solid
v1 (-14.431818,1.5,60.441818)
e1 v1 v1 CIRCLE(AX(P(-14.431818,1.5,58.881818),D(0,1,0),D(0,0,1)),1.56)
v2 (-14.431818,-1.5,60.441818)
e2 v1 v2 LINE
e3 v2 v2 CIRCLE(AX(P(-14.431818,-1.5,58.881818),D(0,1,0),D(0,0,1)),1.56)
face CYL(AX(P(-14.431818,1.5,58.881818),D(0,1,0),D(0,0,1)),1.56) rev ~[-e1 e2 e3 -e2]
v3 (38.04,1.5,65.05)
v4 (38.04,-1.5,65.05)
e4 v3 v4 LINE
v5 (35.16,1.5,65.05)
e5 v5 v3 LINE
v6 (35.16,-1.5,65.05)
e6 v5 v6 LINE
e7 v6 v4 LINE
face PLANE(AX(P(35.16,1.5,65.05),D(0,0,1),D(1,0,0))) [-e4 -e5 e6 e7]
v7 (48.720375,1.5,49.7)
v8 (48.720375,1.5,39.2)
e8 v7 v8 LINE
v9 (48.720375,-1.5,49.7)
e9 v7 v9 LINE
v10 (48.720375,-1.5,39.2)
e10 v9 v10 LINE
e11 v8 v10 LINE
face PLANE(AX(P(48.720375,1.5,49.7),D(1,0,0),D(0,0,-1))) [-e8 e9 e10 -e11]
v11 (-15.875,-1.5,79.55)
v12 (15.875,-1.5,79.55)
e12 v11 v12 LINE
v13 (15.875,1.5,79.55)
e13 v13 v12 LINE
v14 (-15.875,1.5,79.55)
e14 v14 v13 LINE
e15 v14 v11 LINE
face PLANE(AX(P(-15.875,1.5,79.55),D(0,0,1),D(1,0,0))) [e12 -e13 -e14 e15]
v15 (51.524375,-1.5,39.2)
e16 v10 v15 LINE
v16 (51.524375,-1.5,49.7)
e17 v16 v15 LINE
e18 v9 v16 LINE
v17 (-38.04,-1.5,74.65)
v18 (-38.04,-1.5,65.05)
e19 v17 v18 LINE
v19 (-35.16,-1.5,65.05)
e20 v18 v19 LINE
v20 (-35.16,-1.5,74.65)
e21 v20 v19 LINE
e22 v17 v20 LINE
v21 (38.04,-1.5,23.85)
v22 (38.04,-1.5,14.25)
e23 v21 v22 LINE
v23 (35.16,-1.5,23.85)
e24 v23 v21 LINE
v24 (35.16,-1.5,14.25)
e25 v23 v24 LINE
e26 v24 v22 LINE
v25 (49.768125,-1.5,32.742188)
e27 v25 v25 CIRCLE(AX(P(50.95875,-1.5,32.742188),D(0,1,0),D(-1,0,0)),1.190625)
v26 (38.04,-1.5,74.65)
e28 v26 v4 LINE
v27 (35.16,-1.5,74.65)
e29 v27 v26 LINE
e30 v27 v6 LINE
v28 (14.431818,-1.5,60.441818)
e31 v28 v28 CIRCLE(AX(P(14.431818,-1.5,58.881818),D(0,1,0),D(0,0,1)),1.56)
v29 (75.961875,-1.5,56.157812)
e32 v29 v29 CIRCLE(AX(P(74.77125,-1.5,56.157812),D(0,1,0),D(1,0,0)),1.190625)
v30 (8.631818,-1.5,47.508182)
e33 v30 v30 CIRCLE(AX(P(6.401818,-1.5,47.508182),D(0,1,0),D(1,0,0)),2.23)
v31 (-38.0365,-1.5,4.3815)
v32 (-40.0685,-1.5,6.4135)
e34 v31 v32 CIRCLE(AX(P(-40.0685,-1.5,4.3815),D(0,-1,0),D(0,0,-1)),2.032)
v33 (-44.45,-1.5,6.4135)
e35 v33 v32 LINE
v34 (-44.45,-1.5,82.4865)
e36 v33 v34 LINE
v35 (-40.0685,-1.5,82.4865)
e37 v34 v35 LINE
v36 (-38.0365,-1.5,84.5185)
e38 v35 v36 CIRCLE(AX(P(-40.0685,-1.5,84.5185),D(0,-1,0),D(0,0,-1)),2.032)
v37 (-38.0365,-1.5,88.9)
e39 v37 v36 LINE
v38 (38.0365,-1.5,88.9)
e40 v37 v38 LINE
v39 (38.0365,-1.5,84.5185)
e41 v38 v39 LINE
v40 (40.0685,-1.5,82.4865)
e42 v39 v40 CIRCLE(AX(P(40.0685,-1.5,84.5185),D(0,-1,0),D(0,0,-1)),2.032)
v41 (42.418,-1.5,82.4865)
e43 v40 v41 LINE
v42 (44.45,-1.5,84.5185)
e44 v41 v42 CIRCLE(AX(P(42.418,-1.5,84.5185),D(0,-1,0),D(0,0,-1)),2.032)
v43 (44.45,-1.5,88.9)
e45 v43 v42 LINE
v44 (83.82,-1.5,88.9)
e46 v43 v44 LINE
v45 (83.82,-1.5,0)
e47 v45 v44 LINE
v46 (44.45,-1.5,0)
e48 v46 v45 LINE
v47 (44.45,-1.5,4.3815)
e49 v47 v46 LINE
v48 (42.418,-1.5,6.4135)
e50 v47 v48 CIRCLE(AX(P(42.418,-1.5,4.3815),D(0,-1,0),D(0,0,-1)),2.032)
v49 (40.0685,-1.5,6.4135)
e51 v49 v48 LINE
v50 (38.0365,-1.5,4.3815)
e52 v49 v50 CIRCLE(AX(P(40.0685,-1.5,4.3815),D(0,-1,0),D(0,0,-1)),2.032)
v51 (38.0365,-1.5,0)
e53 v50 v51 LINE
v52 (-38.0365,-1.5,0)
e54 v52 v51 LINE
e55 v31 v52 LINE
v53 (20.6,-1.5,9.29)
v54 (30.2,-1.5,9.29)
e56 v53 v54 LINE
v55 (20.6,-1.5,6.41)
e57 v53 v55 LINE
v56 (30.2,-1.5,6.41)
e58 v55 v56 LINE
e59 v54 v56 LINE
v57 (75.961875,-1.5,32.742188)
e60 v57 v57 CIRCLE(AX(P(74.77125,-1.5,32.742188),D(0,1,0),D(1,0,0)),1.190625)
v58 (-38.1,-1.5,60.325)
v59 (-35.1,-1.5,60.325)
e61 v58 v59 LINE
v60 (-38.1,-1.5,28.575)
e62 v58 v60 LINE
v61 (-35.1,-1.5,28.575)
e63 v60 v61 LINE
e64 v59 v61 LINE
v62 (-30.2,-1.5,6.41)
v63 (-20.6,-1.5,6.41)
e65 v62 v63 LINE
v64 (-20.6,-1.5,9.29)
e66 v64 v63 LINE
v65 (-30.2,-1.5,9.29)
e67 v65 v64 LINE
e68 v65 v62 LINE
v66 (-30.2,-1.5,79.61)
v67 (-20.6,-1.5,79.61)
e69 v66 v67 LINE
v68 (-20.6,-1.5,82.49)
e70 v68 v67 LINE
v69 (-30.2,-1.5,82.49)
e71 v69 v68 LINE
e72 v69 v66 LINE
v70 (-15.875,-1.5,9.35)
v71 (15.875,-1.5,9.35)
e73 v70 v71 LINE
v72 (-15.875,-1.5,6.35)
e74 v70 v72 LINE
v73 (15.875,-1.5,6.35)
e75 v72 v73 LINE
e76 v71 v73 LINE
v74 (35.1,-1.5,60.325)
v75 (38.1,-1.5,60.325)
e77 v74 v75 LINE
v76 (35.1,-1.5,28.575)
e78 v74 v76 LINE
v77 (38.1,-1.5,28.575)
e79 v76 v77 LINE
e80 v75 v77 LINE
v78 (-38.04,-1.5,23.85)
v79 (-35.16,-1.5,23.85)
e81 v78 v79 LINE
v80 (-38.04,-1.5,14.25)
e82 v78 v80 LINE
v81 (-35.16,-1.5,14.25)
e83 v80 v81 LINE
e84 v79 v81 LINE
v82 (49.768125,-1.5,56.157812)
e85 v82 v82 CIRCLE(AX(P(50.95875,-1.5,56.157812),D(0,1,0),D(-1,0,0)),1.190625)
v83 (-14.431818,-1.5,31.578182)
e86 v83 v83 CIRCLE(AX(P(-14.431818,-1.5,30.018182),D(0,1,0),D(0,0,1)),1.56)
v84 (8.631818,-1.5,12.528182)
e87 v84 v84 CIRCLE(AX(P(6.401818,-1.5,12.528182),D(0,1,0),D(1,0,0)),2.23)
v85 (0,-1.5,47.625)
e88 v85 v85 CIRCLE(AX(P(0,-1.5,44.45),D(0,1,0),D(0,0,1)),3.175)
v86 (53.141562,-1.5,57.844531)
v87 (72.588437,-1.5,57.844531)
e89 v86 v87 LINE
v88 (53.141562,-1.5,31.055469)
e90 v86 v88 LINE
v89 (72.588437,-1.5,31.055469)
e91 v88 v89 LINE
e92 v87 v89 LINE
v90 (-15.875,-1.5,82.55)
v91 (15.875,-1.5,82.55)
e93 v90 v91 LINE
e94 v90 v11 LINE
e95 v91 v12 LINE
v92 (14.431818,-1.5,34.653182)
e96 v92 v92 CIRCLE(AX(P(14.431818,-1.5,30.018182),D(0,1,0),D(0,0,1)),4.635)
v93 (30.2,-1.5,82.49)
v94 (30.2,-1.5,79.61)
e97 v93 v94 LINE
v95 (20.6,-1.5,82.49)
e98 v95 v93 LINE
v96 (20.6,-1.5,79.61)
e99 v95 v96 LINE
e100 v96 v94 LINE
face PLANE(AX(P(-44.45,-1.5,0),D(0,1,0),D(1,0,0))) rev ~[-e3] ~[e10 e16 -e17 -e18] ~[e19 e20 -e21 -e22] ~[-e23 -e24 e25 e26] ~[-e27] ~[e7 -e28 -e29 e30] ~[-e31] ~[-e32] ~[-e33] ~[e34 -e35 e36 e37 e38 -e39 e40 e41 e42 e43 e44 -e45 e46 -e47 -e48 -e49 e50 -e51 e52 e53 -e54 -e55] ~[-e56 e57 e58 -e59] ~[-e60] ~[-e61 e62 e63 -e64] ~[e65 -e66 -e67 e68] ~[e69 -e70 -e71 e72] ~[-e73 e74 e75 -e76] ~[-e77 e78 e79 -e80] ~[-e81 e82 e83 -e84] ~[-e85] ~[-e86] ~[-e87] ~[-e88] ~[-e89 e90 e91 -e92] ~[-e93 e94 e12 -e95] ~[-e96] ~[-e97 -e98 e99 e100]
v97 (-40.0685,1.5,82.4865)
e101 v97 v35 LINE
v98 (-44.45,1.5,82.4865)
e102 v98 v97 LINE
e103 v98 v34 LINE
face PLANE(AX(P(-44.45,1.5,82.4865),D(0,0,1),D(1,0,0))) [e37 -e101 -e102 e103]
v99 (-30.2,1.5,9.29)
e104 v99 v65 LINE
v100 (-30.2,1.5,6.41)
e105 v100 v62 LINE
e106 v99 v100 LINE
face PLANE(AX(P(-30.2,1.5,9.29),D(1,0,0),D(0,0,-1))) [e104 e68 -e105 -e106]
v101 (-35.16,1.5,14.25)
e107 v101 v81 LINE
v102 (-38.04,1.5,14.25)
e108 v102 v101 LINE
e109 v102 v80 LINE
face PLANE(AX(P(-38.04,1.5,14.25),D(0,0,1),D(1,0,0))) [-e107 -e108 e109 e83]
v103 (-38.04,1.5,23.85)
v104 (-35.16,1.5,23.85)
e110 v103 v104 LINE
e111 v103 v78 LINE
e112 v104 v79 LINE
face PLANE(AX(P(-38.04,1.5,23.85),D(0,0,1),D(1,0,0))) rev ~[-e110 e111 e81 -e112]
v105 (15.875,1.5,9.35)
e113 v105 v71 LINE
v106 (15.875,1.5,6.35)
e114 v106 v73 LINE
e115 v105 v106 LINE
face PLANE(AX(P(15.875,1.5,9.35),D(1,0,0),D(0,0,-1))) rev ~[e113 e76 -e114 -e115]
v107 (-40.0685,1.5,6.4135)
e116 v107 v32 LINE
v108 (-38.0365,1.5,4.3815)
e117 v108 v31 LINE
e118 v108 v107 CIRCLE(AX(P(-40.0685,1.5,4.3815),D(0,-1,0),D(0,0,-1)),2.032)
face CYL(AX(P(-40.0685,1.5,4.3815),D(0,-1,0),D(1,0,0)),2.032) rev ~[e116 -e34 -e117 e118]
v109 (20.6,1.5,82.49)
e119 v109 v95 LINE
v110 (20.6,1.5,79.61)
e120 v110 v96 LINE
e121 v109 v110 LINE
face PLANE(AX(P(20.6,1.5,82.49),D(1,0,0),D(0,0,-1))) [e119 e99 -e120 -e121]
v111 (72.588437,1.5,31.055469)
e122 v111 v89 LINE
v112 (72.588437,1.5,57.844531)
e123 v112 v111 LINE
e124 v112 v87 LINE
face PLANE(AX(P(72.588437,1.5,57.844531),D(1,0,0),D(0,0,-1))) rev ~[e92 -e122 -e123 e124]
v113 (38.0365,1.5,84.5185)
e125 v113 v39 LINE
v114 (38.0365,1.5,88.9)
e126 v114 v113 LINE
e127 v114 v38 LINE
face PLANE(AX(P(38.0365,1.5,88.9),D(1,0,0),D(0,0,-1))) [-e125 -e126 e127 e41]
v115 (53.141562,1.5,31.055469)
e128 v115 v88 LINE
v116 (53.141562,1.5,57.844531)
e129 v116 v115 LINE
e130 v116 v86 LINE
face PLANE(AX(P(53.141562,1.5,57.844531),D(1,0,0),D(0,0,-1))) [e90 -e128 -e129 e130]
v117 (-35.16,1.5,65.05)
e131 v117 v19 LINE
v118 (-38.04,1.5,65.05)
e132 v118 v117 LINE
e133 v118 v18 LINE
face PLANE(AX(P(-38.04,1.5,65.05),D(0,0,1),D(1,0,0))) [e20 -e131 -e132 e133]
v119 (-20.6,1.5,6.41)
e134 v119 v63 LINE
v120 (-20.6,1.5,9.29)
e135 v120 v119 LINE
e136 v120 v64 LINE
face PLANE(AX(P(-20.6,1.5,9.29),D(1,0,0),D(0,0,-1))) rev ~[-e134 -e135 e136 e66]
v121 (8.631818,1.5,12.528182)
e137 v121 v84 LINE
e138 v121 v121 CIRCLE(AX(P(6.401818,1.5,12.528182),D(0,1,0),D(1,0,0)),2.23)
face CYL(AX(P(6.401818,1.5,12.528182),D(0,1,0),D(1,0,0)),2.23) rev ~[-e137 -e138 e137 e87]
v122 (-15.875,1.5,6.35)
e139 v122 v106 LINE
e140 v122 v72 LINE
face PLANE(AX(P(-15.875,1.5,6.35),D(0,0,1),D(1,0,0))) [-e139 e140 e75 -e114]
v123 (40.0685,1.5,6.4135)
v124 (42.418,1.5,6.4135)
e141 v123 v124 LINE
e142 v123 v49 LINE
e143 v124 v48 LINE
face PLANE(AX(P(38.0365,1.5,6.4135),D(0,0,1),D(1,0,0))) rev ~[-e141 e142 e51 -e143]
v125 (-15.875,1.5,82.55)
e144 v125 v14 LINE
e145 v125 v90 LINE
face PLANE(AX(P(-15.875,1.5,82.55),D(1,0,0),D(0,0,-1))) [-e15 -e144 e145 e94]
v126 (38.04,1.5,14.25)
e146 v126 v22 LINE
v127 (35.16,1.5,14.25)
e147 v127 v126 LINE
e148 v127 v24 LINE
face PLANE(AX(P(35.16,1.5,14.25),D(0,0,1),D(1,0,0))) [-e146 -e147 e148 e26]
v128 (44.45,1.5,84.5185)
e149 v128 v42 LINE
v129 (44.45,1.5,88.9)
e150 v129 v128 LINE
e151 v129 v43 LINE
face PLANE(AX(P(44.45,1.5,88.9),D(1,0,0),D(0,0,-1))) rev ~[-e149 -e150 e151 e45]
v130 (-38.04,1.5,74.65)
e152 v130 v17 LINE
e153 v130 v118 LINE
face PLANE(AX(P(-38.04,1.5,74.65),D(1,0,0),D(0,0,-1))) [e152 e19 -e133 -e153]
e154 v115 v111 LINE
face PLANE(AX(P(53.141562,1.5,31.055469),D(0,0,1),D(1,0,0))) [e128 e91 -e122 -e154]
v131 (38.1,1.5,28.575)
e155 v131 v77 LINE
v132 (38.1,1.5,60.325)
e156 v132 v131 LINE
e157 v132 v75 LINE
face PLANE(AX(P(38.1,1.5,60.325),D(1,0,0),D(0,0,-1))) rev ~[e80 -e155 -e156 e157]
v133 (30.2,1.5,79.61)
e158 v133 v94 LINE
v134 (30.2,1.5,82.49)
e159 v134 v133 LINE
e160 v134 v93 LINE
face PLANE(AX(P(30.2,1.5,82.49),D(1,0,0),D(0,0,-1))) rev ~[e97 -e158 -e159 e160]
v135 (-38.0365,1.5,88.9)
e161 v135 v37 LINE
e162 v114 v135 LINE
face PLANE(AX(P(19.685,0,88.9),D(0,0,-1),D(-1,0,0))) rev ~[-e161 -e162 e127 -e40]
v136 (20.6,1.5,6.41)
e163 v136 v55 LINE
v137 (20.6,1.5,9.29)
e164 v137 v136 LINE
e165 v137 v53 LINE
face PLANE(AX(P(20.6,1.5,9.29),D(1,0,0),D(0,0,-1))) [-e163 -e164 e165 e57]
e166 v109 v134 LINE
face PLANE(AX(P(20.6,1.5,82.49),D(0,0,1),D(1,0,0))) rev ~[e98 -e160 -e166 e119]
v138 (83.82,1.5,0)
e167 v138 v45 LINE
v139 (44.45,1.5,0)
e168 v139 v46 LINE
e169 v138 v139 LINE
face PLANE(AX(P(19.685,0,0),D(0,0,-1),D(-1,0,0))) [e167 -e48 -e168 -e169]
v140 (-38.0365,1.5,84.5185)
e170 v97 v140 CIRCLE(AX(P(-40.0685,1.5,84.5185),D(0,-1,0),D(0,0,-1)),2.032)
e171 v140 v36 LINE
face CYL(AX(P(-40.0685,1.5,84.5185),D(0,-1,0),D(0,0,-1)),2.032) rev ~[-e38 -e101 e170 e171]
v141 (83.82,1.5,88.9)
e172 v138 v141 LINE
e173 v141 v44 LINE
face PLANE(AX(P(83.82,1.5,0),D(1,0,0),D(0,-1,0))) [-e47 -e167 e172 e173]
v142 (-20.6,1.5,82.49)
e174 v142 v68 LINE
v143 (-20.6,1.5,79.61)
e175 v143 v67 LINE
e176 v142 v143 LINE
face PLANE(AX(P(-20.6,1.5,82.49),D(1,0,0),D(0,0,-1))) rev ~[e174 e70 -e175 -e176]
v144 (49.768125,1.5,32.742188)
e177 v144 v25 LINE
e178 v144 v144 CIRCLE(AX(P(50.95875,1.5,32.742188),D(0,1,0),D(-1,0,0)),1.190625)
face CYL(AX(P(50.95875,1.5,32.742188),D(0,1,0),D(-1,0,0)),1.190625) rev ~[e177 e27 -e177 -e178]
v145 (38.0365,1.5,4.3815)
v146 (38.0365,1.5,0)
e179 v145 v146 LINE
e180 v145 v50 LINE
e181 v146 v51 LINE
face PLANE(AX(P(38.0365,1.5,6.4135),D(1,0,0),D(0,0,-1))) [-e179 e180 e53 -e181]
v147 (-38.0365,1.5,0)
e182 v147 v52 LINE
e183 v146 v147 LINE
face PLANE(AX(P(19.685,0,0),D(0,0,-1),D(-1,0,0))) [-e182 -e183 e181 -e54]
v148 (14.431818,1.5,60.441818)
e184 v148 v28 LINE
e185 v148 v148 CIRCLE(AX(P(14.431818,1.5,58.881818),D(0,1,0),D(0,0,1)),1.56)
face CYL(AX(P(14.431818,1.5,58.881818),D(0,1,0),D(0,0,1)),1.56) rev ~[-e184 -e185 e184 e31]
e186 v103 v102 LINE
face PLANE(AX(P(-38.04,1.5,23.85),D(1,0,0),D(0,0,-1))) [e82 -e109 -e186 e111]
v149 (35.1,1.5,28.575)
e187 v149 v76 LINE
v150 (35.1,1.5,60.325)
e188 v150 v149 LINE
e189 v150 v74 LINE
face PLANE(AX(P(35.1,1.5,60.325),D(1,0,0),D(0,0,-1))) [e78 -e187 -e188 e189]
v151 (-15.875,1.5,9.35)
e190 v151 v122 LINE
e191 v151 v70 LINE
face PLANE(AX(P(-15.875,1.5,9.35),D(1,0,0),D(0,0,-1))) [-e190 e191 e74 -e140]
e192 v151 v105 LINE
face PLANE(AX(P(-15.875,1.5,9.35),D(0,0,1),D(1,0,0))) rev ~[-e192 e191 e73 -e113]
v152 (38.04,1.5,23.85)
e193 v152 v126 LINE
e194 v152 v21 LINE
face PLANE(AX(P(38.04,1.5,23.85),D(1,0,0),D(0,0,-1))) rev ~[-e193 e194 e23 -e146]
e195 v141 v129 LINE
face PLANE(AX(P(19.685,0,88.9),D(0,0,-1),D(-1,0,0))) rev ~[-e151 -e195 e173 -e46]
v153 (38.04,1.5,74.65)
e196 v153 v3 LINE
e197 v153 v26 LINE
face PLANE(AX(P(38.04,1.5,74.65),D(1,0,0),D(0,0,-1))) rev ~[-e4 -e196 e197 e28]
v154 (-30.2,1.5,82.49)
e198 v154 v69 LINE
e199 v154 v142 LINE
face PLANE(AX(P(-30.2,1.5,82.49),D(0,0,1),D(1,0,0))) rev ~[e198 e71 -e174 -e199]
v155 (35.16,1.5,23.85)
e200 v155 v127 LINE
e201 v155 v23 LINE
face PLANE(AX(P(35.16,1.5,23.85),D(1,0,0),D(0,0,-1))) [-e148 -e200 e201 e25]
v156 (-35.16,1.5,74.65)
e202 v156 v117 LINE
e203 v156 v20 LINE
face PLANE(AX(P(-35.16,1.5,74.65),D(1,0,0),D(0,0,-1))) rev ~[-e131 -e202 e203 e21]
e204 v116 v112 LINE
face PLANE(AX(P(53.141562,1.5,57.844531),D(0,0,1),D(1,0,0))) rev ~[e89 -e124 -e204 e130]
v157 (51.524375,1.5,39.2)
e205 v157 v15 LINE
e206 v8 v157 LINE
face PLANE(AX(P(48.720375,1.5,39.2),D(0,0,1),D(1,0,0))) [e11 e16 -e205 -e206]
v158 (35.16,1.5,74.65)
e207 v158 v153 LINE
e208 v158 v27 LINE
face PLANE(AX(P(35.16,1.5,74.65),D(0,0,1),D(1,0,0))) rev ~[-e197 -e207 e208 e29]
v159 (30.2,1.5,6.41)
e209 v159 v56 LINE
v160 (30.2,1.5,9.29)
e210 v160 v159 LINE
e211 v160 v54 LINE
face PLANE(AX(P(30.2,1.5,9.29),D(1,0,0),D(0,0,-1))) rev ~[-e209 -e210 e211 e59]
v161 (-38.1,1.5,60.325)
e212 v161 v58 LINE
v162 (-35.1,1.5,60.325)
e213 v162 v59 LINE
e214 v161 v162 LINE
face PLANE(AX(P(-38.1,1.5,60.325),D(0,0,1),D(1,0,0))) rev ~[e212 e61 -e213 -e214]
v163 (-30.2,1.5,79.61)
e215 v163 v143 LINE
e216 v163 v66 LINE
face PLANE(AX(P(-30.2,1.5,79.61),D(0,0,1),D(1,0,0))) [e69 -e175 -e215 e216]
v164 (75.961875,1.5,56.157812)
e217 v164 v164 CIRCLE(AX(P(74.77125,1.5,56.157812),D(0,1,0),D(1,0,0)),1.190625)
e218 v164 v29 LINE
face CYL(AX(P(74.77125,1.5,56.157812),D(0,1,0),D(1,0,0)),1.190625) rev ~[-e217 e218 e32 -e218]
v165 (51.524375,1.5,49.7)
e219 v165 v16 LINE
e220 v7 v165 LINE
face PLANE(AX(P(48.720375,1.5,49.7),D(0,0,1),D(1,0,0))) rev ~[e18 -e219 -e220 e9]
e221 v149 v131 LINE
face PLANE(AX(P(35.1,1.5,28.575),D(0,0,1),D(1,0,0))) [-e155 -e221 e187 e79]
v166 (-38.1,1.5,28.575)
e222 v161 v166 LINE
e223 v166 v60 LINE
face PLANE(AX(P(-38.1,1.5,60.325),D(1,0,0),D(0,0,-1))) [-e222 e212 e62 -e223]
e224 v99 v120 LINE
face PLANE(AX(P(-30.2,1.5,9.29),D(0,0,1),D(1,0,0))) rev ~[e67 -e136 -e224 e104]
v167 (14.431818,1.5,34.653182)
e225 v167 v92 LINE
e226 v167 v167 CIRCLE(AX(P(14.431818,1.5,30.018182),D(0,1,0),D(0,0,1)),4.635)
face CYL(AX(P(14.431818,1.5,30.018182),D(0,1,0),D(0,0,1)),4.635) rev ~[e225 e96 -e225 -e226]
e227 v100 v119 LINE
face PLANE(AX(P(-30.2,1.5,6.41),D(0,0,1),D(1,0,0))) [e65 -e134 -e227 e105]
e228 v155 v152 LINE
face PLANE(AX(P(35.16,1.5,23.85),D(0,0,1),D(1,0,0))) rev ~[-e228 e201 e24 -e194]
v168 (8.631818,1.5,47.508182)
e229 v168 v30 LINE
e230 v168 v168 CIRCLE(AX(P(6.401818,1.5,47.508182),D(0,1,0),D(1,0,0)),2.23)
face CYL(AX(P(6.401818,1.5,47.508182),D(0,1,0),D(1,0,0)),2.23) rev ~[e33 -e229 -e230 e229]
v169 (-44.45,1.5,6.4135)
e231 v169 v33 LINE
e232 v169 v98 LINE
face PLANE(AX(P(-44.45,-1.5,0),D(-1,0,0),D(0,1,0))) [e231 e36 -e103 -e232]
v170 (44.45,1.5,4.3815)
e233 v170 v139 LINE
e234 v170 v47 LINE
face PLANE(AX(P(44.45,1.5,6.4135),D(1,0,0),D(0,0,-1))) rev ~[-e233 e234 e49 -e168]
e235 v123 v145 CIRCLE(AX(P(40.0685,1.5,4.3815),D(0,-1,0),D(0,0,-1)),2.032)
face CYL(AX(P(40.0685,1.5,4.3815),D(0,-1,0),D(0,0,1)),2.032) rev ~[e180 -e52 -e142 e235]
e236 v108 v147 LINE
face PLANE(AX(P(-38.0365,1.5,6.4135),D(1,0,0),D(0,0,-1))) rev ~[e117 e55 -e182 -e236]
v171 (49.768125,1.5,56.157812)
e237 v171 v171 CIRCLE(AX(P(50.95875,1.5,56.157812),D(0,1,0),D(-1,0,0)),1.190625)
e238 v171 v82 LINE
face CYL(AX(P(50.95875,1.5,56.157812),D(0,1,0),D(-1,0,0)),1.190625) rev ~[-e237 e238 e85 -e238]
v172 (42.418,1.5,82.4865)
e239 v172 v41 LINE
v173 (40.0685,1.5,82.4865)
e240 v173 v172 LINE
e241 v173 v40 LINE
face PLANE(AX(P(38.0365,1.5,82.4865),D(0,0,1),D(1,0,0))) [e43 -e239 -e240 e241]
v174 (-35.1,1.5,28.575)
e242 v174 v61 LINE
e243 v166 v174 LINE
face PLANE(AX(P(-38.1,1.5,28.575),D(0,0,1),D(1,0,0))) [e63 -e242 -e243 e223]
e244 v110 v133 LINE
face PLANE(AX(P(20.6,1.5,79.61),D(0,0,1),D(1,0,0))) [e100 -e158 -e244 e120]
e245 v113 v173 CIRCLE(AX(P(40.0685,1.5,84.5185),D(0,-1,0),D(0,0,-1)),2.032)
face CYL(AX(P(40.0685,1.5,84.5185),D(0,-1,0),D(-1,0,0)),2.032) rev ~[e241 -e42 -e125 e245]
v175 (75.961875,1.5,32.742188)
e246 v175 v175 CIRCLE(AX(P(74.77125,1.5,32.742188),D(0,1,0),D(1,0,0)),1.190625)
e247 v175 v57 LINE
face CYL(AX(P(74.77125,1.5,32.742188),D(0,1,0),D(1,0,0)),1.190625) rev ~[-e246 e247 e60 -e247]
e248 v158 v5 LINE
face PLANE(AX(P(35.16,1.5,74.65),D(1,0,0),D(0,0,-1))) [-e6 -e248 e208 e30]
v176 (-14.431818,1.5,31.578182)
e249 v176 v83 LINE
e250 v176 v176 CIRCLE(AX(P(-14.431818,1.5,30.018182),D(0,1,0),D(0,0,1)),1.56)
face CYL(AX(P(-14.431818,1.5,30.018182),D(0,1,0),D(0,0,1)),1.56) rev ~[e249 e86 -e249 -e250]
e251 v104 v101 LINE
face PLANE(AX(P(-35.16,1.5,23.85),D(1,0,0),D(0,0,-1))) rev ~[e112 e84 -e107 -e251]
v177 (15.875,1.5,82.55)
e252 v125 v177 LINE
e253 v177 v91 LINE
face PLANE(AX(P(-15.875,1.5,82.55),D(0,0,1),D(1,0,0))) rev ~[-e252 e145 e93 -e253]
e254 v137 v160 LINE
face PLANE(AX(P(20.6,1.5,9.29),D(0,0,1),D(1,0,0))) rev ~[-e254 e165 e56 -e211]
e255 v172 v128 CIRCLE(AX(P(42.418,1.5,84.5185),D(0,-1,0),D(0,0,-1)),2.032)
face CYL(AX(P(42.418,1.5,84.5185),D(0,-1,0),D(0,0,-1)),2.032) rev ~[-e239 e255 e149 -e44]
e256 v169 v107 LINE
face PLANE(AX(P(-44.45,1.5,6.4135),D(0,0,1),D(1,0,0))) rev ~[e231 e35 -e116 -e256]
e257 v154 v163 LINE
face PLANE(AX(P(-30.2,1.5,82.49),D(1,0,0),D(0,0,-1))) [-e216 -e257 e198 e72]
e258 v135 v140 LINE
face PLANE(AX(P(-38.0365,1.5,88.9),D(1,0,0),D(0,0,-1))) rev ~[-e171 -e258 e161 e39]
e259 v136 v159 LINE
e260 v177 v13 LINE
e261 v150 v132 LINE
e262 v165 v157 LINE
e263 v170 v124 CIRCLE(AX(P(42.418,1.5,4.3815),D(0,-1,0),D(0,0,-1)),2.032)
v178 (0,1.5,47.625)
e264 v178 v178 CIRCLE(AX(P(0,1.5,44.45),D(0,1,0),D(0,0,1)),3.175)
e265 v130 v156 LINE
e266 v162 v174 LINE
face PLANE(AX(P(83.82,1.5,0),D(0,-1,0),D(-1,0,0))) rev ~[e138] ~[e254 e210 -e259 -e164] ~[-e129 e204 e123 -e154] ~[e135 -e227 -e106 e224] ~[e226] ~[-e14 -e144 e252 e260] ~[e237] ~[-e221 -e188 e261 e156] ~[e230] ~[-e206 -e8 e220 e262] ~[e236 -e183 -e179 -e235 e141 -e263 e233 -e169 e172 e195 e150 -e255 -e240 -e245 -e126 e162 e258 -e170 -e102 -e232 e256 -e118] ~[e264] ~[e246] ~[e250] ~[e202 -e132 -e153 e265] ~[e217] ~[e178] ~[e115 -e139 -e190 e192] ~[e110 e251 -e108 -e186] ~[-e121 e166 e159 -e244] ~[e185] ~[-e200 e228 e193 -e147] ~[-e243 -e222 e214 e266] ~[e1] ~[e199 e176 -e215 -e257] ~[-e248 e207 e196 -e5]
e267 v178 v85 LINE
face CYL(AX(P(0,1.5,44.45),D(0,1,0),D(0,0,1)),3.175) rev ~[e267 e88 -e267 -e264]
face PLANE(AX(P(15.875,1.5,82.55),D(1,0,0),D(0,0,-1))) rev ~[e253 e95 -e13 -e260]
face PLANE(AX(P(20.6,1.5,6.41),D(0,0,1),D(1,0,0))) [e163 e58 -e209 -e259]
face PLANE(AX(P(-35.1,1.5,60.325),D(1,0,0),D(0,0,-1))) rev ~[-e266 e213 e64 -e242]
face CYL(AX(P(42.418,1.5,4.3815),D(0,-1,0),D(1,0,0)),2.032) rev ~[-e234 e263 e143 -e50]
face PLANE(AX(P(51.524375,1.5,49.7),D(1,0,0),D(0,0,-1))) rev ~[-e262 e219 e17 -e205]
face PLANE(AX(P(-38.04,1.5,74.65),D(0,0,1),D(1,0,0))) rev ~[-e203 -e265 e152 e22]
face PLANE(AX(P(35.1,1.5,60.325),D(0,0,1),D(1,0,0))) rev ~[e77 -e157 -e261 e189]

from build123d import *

# Parameters (mm, degrees)
EXTRUDE_1_DEPTH     = 88.9
SKETCH_4_R          = 1.5
SKETCH_4_W          = 31.75
SKETCH_4_H          = 3
SKETCH_4_W_2        = 3
SKETCH_4_H_2        = 31.75
CUT_EXTRUDE_1_DEPTH = 3
SKETCH_5_R          = 1.56
CUT_EXTRUDE_2_DEPTH = 3
SKETCH_7_R          = 4.635
SKETCH_7_R_2        = 2.23
CUT_EXTRUDE_3_DEPTH = 3
SKETCH_8_W          = 9.6
SKETCH_8_H          = 2.88
SKETCH_8_W_2        = 2.88
SKETCH_8_H_2        = 9.6
CUT_EXTRUDE_4_DEPTH = 3
SKETCH_9_R          = 3.175
CUT_EXTRUDE_5_DEPTH = 3
SKETCH_13_W         = 6.4135
SKETCH_13_H         = 6.4135
CUT_EXTRUDE_7_DEPTH = 5.08
FILLET_2_R          = 2.032
SKETCH_18_R         = 1.190625
SKETCH_18_W         = 19.446875
SKETCH_18_H         = 26.7890625
CUT_EXTRUDE_8_DEPTH = 3
SKETCH_19_W         = 2.804
SKETCH_19_H         = 10.5
CUT_EXTRUDE_9_DEPTH = 2000


with BuildPart() as part:
    # 스케치2 → 보스-돌출1 (new body)
    with BuildSketch(Plane.XY):
        Polygon((-44.45, 1.5), (44.45, 1.5), (83.82, 1.5), (83.82, -1.5), (44.45, -1.5), (-44.45, -1.5), align=None)
    extrude(amount=EXTRUDE_1_DEPTH)

    # 스케치4 → 컷-돌출1 (cut)
    with BuildSketch(Plane(origin=(0, 1.5, 0), x_dir=(1, 0, 0), z_dir=(0, 1, 0))):
        with Locations(Location((-41.275, -85.725, 0), (0, 0, 270))):
            Circle(SKETCH_4_R)
        with Locations(Location((-41.275, -3.175, 0), (0, 0, 270))):
            Circle(SKETCH_4_R)
        with Locations(Location((41.275, -3.175, 0), (0, 0, 270))):
            Circle(SKETCH_4_R)
        with Locations(Location((41.275, -85.725, 0), (0, 0, 270))):
            Circle(SKETCH_4_R)
        with Locations((0, -81.05)):
            Rectangle(SKETCH_4_W, SKETCH_4_H)
        with Locations((-36.6, -44.45)):
            Rectangle(SKETCH_4_W_2, SKETCH_4_H_2)
        with Locations((0, -7.85)):
            Rectangle(SKETCH_4_W, SKETCH_4_H)
        with Locations((36.6, -44.45)):
            Rectangle(SKETCH_4_W_2, SKETCH_4_H_2)
    extrude(amount=-CUT_EXTRUDE_1_DEPTH, mode=Mode.SUBTRACT)

    # 스케치5 → 컷-돌출2 (cut)
    with BuildSketch(Plane(origin=(0, 1.5, 0), x_dir=(1, 0, 0), z_dir=(0, 1, 0))):
        with Locations(Location((-14.431818182, -30.018181818, 0), (0, 0, 270))):
            Circle(SKETCH_5_R)
        with Locations(Location((14.431818182, -30.018181818, 0), (0, 0, 270))):
            Circle(SKETCH_5_R)
        with Locations(Location((14.431818182, -58.881818182, 0), (0, 0, 270))):
            Circle(SKETCH_5_R)
        with Locations(Location((-14.431818182, -58.881818182, 0), (0, 0, 270))):
            Circle(SKETCH_5_R)
    extrude(amount=-CUT_EXTRUDE_2_DEPTH, mode=Mode.SUBTRACT)

    # 스케치7 → 컷-돌출3 (cut)
    with BuildSketch(Plane(origin=(0, 1.5, 0), x_dir=(1, 0, 0), z_dir=(0, 1, 0))):
        with Locations(Location((14.431818182, -30.018181818, 0), (0, 0, 270))):
            Circle(SKETCH_7_R)
        with Locations((6.401818182, -47.508181818)):
            Circle(SKETCH_7_R_2)
        with Locations((6.401818182, -12.528181818)):
            Circle(SKETCH_7_R_2)
    extrude(amount=-CUT_EXTRUDE_3_DEPTH, mode=Mode.SUBTRACT)

    # 스케치8 → 컷-돌출4 (cut)
    with BuildSketch(Plane(origin=(0, 1.5, 0), x_dir=(1, 0, 0), z_dir=(0, 1, 0))):
        with Locations((-25.4, -7.85)):
            Rectangle(SKETCH_8_W, SKETCH_8_H)
        with Locations((-36.6, -19.05)):
            Rectangle(SKETCH_8_W_2, SKETCH_8_H_2)
        with Locations((36.6, -19.05)):
            Rectangle(SKETCH_8_W_2, SKETCH_8_H_2)
        with Locations((25.4, -7.85)):
            Rectangle(SKETCH_8_W, SKETCH_8_H)
        with Locations((36.6, -69.85)):
            Rectangle(SKETCH_8_W_2, SKETCH_8_H_2)
        with Locations((25.4, -81.05)):
            Rectangle(SKETCH_8_W, SKETCH_8_H)
        with Locations((-25.4, -81.05)):
            Rectangle(SKETCH_8_W, SKETCH_8_H)
        with Locations((-36.6, -69.85)):
            Rectangle(SKETCH_8_W_2, SKETCH_8_H_2)
    extrude(amount=-CUT_EXTRUDE_4_DEPTH, mode=Mode.SUBTRACT)

    # 스케치9 → 컷-돌출5 (cut)
    with BuildSketch(Plane(origin=(0, 1.5, 0), x_dir=(1, 0, 0), z_dir=(0, 1, 0))):
        with Locations(Location((0, -44.45, 0), (0, 0, 270))):
            Circle(SKETCH_9_R)
    extrude(amount=-CUT_EXTRUDE_5_DEPTH, mode=Mode.SUBTRACT)

    # 스케치13 → 컷-돌출7 (cut)
    with BuildSketch(Plane(origin=(0, 1.5, 0), x_dir=(1, 0, 0), z_dir=(0, 1, 0))):
        with Locations((-41.24325, -85.69325)):
            Rectangle(SKETCH_13_W, SKETCH_13_H)
        with Locations((-41.24325, -3.20675)):
            Rectangle(SKETCH_13_W, SKETCH_13_H)
        with Locations((41.24325, -3.20675)):
            Rectangle(SKETCH_13_W, SKETCH_13_H)
        with Locations((41.24325, -85.69325)):
            Rectangle(SKETCH_13_W, SKETCH_13_H)
    extrude(amount=-CUT_EXTRUDE_7_DEPTH, mode=Mode.SUBTRACT)

    # 필렛2
    fillet_2_edges = [part.edges().sort_by_distance(p)[0] for p in [
        (44.45, 0, 82.4865),
        (38.0365, 0, 82.4865),
        (44.45, 0, 6.4135),
        (38.0365, 0, 6.4135),
        (-38.0365, 0, 6.4135),
        (-38.0365, 0, 82.4865),
    ]]
    fillet(fillet_2_edges, radius=FILLET_2_R)

    # 스케치18 → 컷-돌출8 (cut)
    with BuildSketch(Plane(origin=(0, 1.5, 0), x_dir=(1, 0, 0), z_dir=(0, 1, 0))):
        with Locations(Location((50.95875, -56.1578125, 0), (0, 0, 180))):
            Circle(SKETCH_18_R)
        with Locations(Location((50.95875, -32.7421875, 0), (0, 0, 180))):
            Circle(SKETCH_18_R)
        with Locations((74.77125, -32.7421875)):
            Circle(SKETCH_18_R)
        with Locations((74.77125, -56.1578125)):
            Circle(SKETCH_18_R)
        with Locations((62.865, -44.45)):
            Rectangle(SKETCH_18_W, SKETCH_18_H)
    extrude(amount=-CUT_EXTRUDE_8_DEPTH, mode=Mode.SUBTRACT)

    # 스케치19 → 컷-돌출9 (cut)
    with BuildSketch(Plane(origin=(0, 1.5, 0), x_dir=(1, 0, 0), z_dir=(0, 1, 0))):
        with Locations((50.122375, -44.45)):
            Rectangle(SKETCH_19_W, SKETCH_19_H)
    extrude(amount=-CUT_EXTRUDE_9_DEPTH, mode=Mode.SUBTRACT)


solid = part.part
